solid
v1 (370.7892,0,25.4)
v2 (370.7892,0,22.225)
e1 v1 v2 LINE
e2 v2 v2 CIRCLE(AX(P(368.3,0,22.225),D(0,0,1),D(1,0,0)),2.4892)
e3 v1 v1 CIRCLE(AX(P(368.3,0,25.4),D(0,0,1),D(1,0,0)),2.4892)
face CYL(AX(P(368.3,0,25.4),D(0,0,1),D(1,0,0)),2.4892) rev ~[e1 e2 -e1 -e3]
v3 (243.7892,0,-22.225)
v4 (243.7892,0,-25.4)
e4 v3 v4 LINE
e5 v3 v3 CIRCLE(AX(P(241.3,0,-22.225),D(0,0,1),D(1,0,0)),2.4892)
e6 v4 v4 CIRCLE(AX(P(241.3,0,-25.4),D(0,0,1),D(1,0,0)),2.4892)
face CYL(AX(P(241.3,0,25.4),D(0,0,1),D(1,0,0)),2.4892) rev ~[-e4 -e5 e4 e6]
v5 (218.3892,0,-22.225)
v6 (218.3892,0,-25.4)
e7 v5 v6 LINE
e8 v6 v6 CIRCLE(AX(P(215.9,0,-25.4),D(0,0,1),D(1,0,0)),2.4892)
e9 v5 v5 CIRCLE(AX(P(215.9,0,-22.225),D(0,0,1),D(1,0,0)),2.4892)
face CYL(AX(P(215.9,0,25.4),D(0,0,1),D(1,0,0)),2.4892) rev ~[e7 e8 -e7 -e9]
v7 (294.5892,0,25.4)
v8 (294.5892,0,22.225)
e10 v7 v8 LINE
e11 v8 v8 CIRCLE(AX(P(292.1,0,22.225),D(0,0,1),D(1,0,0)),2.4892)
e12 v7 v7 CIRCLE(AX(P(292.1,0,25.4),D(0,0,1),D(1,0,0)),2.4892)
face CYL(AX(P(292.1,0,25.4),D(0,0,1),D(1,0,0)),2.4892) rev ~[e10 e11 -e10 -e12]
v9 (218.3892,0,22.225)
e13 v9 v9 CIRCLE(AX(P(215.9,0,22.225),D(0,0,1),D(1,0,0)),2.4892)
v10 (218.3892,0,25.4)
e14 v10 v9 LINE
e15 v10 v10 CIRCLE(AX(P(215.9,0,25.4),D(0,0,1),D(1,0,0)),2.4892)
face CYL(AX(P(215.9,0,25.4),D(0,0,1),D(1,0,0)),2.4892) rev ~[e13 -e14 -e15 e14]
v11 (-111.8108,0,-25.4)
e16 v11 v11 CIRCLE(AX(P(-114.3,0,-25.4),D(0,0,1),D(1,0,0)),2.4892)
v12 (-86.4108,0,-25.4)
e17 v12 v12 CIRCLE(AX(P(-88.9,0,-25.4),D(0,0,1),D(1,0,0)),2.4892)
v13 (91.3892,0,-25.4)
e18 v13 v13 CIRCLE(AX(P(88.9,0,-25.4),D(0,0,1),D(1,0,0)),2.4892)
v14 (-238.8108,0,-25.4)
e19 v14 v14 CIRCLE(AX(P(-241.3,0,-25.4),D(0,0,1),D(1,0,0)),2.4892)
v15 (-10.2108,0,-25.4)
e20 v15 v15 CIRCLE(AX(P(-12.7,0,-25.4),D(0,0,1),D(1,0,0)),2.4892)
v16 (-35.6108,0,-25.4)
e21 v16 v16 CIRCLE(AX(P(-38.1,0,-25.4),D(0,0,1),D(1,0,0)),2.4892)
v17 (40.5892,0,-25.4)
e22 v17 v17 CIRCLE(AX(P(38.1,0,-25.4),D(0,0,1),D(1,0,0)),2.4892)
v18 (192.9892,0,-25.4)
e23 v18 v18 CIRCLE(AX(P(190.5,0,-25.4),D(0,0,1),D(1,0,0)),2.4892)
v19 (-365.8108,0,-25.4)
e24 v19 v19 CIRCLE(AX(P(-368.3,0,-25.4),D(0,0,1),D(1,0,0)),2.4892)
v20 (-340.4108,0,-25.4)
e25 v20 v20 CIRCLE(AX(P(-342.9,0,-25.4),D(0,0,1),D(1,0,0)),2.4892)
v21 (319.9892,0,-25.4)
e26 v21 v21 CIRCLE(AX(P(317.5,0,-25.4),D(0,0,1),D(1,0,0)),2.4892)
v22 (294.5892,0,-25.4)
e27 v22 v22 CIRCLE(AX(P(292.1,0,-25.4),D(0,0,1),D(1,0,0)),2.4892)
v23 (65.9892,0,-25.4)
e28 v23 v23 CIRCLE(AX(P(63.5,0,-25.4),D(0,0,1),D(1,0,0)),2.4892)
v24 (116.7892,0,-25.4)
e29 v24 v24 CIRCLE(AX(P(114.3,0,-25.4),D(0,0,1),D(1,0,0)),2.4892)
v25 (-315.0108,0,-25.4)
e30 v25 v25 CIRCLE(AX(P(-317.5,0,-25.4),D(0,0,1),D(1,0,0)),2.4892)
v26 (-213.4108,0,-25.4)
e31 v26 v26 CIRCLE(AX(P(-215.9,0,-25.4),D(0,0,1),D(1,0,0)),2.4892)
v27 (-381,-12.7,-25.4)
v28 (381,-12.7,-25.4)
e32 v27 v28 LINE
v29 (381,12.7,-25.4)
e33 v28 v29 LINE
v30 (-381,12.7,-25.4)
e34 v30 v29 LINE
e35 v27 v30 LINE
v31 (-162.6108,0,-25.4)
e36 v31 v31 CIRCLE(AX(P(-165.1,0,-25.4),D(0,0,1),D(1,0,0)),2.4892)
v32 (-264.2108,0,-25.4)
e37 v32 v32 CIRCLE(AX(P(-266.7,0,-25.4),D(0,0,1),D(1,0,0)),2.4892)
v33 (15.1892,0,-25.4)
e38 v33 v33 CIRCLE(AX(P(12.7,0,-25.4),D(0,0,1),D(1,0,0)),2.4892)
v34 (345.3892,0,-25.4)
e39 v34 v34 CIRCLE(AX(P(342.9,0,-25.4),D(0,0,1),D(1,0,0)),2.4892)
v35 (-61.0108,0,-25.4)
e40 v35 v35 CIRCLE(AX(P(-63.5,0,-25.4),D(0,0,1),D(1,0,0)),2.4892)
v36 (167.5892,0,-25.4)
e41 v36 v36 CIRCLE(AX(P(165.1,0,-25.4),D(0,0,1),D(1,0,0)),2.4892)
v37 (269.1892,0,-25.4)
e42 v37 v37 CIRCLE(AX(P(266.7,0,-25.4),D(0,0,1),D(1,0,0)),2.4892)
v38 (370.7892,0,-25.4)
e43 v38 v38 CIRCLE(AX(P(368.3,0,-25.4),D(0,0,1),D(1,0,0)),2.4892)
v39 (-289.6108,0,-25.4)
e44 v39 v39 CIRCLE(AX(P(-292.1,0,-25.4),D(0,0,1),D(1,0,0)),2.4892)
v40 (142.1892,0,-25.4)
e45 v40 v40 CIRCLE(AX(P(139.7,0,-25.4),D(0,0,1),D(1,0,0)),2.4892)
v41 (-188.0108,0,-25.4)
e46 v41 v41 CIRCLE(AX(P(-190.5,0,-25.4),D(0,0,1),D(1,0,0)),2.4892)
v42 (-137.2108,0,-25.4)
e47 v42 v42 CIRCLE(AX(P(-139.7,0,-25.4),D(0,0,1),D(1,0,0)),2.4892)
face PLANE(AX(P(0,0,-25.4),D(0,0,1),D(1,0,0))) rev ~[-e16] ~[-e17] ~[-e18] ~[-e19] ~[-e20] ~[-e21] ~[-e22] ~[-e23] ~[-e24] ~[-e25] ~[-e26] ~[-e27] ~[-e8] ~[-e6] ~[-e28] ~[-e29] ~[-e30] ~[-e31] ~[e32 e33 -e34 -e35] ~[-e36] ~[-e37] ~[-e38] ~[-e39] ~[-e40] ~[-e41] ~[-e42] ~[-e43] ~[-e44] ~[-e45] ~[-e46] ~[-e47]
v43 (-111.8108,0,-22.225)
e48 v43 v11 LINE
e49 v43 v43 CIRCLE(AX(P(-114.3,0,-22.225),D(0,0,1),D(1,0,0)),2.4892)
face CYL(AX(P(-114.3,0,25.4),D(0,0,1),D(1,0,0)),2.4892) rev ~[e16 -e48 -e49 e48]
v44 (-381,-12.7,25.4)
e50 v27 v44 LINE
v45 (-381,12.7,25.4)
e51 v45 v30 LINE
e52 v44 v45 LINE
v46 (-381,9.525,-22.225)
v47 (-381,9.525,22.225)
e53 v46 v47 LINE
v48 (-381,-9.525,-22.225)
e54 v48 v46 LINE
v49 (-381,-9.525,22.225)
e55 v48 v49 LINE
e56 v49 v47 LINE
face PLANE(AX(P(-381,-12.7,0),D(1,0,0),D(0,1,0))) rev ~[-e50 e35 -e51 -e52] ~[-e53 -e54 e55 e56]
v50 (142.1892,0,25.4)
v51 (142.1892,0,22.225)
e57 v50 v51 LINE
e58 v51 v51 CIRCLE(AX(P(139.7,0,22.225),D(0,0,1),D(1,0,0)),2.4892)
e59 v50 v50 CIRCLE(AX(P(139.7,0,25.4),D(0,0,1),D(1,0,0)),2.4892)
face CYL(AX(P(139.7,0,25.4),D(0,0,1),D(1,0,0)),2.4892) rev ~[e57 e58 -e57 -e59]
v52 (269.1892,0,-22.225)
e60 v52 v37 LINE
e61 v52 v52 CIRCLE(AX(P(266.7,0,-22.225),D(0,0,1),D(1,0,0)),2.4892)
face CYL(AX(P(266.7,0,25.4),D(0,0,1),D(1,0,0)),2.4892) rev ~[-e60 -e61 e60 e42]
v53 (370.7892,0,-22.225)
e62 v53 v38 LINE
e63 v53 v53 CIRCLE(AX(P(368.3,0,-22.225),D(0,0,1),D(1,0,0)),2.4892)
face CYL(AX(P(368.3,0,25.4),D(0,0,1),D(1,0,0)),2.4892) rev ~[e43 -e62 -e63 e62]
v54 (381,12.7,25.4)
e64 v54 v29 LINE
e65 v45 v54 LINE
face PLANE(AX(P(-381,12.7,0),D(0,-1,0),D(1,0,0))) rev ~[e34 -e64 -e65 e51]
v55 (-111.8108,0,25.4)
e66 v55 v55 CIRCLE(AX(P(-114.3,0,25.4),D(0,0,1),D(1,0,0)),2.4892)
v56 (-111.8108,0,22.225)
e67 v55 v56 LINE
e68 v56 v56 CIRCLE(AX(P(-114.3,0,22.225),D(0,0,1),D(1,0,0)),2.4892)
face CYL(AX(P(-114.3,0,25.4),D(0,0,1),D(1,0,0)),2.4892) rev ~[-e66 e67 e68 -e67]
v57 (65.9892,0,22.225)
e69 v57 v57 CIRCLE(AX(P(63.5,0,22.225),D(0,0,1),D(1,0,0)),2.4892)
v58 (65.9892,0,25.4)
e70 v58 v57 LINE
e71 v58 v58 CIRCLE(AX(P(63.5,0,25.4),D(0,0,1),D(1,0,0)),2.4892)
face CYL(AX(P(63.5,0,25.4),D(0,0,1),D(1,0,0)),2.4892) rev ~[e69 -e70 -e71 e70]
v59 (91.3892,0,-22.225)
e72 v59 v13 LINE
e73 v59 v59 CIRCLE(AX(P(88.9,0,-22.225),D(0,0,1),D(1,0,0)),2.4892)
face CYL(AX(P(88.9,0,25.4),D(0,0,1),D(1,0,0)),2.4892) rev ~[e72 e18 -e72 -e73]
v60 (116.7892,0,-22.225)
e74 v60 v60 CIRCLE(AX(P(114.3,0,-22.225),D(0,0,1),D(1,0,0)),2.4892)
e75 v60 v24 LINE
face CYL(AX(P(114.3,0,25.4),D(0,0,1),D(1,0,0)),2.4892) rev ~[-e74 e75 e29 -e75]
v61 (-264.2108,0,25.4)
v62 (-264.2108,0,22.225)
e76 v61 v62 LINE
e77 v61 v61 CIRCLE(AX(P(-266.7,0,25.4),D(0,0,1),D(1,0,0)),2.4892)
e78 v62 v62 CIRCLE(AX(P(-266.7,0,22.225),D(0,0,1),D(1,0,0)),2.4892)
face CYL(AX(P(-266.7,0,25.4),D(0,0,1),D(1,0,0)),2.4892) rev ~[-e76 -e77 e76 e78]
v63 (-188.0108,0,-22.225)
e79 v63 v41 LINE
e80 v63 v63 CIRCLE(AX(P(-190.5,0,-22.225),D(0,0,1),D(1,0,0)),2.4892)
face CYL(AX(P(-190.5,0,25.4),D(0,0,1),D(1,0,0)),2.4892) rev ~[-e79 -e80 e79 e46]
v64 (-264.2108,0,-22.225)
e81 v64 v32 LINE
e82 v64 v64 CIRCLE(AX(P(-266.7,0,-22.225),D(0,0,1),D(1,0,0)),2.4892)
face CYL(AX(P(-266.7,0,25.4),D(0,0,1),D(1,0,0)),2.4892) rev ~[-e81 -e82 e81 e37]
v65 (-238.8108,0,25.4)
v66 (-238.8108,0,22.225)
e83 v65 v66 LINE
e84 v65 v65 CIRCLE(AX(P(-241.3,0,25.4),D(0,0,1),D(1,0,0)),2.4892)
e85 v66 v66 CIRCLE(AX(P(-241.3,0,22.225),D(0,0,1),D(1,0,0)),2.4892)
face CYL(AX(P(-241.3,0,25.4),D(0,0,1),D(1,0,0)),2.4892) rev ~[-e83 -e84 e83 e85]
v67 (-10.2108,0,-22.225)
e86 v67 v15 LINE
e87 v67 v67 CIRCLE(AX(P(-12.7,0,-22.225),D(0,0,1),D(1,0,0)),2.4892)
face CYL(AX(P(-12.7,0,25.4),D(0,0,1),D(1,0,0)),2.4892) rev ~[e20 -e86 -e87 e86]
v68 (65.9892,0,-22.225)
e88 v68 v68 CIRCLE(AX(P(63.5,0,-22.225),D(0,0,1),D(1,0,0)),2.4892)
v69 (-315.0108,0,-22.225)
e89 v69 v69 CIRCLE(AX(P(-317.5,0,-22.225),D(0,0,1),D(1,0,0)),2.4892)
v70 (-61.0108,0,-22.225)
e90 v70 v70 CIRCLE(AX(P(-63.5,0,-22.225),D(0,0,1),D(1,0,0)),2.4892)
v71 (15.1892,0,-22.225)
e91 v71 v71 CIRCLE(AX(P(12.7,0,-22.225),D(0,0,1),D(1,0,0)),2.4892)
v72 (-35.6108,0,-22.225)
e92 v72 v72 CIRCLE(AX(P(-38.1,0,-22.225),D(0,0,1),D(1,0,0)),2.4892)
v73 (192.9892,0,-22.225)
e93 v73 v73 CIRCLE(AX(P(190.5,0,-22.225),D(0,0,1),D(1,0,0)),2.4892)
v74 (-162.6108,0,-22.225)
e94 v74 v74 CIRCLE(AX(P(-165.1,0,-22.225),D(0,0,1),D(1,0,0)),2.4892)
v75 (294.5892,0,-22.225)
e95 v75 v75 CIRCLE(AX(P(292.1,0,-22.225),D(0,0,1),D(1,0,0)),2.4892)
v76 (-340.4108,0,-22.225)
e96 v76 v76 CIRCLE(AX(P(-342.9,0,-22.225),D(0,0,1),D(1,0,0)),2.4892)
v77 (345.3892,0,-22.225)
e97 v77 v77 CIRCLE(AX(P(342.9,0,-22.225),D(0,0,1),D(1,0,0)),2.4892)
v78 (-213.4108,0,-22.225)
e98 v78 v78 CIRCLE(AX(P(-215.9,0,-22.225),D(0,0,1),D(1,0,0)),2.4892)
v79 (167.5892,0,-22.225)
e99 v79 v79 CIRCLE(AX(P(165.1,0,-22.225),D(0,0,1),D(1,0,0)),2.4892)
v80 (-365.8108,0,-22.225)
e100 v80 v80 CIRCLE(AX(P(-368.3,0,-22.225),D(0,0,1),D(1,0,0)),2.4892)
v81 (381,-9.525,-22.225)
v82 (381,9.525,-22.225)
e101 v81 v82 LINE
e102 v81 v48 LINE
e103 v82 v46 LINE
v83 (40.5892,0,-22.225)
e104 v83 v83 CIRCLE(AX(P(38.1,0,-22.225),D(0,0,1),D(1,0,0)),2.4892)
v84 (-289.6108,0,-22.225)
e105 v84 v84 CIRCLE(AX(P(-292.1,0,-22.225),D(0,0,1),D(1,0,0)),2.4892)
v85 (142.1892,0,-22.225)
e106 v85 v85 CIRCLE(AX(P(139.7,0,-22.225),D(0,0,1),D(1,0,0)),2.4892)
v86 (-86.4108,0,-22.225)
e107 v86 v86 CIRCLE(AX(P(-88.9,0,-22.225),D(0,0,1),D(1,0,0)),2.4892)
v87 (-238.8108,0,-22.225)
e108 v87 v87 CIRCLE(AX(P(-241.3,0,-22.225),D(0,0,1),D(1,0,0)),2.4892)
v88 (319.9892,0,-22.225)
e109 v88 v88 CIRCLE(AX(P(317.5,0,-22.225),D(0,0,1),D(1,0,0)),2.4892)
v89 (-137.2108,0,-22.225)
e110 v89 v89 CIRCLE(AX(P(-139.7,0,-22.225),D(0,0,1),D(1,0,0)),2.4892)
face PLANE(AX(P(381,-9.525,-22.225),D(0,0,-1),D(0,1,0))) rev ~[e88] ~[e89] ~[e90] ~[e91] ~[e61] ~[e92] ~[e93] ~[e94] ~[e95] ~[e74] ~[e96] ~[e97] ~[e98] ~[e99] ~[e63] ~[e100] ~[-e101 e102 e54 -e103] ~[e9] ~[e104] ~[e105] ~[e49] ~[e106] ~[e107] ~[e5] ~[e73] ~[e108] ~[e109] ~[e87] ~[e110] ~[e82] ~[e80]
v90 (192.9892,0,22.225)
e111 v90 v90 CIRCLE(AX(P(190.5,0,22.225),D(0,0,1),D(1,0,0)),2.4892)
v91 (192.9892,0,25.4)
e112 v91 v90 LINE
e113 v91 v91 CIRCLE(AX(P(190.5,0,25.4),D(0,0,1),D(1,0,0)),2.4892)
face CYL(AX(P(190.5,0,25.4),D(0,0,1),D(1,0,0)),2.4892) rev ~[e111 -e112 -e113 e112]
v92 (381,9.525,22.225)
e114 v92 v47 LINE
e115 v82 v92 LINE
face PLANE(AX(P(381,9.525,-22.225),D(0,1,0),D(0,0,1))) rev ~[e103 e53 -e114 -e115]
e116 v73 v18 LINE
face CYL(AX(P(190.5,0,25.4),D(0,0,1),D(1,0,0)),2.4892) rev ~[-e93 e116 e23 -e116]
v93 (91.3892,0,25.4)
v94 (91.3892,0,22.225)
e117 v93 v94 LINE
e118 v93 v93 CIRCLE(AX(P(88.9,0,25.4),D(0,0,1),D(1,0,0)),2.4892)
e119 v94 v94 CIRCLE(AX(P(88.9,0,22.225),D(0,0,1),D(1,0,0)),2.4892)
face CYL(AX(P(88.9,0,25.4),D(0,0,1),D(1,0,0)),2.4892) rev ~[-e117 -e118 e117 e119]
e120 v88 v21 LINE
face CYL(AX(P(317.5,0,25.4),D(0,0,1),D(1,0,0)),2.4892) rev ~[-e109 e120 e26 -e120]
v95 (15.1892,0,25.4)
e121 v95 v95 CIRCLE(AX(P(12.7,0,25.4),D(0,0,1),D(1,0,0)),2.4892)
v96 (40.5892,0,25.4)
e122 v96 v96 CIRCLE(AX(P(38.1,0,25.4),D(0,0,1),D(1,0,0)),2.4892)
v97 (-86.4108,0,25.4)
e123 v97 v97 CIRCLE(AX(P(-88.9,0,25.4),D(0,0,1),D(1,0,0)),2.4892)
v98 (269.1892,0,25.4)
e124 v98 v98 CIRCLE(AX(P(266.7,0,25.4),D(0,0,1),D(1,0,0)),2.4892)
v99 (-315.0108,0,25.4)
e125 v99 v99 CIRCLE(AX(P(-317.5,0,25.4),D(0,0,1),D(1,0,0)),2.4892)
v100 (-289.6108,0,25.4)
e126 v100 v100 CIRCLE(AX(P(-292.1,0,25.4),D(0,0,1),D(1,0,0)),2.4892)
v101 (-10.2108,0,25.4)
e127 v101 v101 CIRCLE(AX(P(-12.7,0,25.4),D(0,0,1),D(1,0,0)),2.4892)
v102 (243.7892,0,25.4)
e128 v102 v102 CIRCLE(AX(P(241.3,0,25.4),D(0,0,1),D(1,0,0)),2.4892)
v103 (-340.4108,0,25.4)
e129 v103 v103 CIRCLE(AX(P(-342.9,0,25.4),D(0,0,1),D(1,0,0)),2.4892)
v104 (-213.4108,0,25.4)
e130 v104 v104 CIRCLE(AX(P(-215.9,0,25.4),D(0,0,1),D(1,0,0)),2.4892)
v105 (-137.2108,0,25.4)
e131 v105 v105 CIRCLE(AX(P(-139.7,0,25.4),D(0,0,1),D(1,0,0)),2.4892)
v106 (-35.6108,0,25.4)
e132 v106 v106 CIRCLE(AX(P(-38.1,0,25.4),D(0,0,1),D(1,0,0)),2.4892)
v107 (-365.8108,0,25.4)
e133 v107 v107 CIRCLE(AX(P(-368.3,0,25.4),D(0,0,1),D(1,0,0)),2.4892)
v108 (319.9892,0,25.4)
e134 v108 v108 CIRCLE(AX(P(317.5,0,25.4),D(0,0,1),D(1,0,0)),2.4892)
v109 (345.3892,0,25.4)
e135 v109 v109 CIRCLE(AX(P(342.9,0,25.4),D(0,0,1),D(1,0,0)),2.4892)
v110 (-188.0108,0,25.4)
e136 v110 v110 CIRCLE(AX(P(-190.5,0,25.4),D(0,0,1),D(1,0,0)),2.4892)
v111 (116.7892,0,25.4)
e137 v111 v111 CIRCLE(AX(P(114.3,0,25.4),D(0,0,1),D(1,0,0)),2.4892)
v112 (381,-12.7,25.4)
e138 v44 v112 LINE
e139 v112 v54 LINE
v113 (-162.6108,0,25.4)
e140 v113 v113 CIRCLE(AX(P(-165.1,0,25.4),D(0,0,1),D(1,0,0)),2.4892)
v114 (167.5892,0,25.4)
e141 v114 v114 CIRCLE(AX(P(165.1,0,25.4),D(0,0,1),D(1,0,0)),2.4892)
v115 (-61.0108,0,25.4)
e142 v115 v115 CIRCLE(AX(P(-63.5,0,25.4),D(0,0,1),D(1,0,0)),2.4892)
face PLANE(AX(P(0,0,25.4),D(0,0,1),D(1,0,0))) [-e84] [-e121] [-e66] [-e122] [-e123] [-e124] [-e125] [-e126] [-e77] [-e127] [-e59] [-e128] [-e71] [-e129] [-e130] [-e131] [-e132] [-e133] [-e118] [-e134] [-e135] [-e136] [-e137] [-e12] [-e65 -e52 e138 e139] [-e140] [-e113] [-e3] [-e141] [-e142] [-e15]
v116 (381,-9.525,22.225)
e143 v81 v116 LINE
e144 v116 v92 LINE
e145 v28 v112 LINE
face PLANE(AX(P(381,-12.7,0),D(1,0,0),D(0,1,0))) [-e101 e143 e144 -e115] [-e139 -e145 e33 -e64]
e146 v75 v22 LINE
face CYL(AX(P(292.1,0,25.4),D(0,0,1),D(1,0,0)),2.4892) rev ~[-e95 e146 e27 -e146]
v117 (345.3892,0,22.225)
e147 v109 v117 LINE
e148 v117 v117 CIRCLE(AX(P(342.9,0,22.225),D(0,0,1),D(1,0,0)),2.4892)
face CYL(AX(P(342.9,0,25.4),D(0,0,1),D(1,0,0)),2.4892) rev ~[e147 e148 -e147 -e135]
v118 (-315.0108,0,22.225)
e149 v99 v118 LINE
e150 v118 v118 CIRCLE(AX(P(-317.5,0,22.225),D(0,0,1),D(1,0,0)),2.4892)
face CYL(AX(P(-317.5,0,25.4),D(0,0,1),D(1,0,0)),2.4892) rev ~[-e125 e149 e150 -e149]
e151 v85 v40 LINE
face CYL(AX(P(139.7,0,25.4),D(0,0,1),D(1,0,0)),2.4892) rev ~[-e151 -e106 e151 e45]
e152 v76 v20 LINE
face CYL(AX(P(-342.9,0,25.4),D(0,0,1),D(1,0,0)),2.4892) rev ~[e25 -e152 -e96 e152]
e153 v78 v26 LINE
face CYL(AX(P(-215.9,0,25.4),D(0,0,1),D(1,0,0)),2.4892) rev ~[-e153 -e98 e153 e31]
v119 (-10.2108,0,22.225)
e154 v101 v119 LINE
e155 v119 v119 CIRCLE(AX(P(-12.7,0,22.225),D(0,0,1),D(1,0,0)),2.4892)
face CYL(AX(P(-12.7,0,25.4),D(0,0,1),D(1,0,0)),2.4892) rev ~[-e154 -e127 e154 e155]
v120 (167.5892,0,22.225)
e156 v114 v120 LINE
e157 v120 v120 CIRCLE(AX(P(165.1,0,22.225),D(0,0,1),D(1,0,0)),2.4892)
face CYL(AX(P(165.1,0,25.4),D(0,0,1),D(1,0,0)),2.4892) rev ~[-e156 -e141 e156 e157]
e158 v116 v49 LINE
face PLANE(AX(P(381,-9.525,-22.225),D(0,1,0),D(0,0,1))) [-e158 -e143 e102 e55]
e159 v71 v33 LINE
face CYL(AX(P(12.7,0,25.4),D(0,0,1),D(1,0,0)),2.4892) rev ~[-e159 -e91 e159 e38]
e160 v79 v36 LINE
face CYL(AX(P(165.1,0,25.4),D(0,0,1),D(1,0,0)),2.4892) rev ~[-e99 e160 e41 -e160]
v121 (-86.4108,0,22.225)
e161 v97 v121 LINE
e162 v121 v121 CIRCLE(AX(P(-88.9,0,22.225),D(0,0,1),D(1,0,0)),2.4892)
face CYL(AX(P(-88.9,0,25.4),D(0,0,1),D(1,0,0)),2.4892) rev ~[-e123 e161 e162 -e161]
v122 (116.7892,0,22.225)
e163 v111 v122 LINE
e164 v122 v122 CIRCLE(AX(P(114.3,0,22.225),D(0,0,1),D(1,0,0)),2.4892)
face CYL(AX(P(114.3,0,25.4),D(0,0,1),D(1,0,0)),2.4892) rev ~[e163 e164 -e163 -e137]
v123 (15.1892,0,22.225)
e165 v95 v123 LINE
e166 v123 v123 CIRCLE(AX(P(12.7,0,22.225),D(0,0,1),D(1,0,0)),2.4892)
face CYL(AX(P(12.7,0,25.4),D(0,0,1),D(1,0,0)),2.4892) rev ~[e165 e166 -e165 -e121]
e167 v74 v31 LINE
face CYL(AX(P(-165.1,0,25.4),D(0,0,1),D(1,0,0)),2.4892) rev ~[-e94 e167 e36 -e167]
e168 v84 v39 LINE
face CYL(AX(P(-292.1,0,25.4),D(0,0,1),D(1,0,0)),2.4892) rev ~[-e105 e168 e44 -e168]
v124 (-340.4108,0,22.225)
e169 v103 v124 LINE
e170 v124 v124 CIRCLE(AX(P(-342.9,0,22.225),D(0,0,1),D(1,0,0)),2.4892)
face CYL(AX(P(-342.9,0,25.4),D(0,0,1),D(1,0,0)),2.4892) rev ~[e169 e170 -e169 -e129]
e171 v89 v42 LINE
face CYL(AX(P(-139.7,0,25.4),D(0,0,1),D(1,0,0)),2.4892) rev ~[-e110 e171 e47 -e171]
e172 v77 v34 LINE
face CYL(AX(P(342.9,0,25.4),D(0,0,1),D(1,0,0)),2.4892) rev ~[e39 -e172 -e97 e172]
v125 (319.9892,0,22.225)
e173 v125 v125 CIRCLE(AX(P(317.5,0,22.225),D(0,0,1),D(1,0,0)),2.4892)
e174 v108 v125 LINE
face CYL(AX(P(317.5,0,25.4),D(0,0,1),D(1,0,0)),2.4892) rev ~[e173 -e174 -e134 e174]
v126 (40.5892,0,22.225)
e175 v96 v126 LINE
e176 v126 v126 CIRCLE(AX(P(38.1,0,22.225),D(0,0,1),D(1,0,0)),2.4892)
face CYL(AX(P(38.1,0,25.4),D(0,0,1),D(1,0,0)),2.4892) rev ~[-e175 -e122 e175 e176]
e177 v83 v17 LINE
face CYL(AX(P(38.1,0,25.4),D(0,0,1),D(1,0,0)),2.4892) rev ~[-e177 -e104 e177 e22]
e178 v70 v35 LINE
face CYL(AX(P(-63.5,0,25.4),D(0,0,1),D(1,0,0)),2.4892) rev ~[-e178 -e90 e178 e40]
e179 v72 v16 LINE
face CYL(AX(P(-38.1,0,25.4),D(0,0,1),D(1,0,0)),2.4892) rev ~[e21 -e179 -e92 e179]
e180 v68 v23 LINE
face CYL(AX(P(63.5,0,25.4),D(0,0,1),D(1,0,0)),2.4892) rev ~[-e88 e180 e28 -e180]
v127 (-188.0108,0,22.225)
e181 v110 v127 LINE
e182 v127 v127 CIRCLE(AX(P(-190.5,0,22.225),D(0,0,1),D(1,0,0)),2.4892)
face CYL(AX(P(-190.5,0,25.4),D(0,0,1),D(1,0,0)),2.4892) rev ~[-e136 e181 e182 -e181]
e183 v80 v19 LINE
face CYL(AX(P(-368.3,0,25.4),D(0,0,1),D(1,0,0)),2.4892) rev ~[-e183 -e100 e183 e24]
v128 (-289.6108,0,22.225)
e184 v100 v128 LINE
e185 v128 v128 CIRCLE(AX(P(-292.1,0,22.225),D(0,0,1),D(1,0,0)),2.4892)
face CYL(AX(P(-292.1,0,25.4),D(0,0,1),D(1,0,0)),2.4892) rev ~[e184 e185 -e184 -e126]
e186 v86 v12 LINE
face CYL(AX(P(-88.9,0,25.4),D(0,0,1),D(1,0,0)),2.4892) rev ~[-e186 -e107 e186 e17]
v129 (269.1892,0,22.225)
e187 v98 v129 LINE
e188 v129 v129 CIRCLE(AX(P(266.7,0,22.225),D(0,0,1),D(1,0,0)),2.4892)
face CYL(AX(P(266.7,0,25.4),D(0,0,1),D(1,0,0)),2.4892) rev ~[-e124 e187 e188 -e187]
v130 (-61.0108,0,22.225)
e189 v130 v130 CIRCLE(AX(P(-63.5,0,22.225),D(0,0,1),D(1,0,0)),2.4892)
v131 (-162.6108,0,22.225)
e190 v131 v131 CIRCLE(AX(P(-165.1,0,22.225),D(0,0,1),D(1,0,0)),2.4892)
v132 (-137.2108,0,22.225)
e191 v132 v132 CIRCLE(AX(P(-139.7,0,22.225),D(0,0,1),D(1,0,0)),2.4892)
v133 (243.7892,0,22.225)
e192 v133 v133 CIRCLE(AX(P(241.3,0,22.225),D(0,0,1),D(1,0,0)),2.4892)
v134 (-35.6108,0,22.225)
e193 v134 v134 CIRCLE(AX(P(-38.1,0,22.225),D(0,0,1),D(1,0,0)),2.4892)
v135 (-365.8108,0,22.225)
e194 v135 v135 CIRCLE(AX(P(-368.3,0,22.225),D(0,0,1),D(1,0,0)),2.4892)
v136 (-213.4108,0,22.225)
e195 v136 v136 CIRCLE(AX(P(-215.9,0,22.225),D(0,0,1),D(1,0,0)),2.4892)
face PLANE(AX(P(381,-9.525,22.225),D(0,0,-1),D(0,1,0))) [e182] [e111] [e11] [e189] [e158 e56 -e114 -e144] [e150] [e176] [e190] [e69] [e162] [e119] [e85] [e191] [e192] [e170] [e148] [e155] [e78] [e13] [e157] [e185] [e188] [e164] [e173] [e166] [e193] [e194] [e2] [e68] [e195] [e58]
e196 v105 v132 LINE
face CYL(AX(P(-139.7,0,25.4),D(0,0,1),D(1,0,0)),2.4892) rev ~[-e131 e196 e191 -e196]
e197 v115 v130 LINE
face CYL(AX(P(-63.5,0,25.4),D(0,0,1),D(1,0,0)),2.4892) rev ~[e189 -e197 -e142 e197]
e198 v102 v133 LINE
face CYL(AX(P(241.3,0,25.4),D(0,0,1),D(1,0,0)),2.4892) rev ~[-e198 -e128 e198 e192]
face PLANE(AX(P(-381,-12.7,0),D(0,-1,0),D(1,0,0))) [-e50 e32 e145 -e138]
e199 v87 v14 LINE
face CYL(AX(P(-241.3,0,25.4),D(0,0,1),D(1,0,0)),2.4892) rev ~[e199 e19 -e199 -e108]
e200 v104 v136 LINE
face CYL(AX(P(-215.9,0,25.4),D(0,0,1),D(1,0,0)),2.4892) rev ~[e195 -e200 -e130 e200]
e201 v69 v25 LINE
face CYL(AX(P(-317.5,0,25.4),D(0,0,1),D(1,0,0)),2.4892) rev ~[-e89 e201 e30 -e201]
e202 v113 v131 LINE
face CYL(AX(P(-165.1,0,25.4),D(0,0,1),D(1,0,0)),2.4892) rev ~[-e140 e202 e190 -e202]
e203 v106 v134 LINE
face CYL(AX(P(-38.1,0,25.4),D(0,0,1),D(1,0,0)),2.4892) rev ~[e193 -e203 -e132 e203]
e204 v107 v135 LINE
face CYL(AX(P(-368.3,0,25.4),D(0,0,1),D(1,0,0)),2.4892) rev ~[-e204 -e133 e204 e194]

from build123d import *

# Parameters (mm, degrees)
F0_W     = 762
F0_H     = 25.4
F1_DEPTH = 25.4
F2_W     = 19.05
F2_H     = 44.45
F3_DEPTH = 762.001
F4_R     = 2.4892
F5_DEPTH = 50.801


with BuildPart() as f1:
    # F0 (on Top) → F1 (new body, symmetric)
    with BuildSketch(Plane.XY):
        Rectangle(F0_W, F0_H)
    extrude(amount=F1_DEPTH, both=True)

    # F2 (on face) → F3 (cut, through all)
    with BuildSketch(Plane.YZ.offset(381)):
        Rectangle(F2_W, F2_H)
    extrude(amount=-F3_DEPTH, mode=Mode.SUBTRACT)

    # F4 (on face) → F5 (cut, through all)
    with BuildSketch(Plane.XY.offset(25.4)):
        with Locations((-368.3, 0)):
            Circle(F4_R)
        with Locations((-342.9, 0)):
            Circle(F4_R)
        with Locations((-317.5, 0)):
            Circle(F4_R)
        with Locations((-292.1, 0)):
            Circle(F4_R)
        with Locations((-266.7, 0)):
            Circle(F4_R)
        with Locations((-241.3, 0)):
            Circle(F4_R)
        with Locations((-215.9, 0)):
            Circle(F4_R)
        with Locations((-190.5, 0)):
            Circle(F4_R)
        with Locations((-165.1, 0)):
            Circle(F4_R)
        with Locations((-139.7, 0)):
            Circle(F4_R)
        with Locations((-114.3, 0)):
            Circle(F4_R)
        with Locations((-88.9, 0)):
            Circle(F4_R)
        with Locations((-63.5, 0)):
            Circle(F4_R)
        with Locations((-38.1, 0)):
            Circle(F4_R)
        with Locations((-12.7, 0)):
            Circle(F4_R)
        with Locations((12.7, 0)):
            Circle(F4_R)
        with Locations((38.1, 0)):
            Circle(F4_R)
        with Locations((63.5, 0)):
            Circle(F4_R)
        with Locations((88.9, 0)):
            Circle(F4_R)
        with Locations((114.3, 0)):
            Circle(F4_R)
        with Locations((139.7, 0)):
            Circle(F4_R)
        with Locations((165.1, 0)):
            Circle(F4_R)
        with Locations((190.5, 0)):
            Circle(F4_R)
        with Locations((215.9, 0)):
            Circle(F4_R)
        with Locations((241.3, 0)):
            Circle(F4_R)
        with Locations((266.7, 0)):
            Circle(F4_R)
        with Locations((292.1, 0)):
            Circle(F4_R)
        with Locations((317.5, 0)):
            Circle(F4_R)
        with Locations((342.9, 0)):
            Circle(F4_R)
        with Locations((368.3, 0)):
            Circle(F4_R)
    extrude(amount=-F5_DEPTH, mode=Mode.SUBTRACT)


solid = f1.part
